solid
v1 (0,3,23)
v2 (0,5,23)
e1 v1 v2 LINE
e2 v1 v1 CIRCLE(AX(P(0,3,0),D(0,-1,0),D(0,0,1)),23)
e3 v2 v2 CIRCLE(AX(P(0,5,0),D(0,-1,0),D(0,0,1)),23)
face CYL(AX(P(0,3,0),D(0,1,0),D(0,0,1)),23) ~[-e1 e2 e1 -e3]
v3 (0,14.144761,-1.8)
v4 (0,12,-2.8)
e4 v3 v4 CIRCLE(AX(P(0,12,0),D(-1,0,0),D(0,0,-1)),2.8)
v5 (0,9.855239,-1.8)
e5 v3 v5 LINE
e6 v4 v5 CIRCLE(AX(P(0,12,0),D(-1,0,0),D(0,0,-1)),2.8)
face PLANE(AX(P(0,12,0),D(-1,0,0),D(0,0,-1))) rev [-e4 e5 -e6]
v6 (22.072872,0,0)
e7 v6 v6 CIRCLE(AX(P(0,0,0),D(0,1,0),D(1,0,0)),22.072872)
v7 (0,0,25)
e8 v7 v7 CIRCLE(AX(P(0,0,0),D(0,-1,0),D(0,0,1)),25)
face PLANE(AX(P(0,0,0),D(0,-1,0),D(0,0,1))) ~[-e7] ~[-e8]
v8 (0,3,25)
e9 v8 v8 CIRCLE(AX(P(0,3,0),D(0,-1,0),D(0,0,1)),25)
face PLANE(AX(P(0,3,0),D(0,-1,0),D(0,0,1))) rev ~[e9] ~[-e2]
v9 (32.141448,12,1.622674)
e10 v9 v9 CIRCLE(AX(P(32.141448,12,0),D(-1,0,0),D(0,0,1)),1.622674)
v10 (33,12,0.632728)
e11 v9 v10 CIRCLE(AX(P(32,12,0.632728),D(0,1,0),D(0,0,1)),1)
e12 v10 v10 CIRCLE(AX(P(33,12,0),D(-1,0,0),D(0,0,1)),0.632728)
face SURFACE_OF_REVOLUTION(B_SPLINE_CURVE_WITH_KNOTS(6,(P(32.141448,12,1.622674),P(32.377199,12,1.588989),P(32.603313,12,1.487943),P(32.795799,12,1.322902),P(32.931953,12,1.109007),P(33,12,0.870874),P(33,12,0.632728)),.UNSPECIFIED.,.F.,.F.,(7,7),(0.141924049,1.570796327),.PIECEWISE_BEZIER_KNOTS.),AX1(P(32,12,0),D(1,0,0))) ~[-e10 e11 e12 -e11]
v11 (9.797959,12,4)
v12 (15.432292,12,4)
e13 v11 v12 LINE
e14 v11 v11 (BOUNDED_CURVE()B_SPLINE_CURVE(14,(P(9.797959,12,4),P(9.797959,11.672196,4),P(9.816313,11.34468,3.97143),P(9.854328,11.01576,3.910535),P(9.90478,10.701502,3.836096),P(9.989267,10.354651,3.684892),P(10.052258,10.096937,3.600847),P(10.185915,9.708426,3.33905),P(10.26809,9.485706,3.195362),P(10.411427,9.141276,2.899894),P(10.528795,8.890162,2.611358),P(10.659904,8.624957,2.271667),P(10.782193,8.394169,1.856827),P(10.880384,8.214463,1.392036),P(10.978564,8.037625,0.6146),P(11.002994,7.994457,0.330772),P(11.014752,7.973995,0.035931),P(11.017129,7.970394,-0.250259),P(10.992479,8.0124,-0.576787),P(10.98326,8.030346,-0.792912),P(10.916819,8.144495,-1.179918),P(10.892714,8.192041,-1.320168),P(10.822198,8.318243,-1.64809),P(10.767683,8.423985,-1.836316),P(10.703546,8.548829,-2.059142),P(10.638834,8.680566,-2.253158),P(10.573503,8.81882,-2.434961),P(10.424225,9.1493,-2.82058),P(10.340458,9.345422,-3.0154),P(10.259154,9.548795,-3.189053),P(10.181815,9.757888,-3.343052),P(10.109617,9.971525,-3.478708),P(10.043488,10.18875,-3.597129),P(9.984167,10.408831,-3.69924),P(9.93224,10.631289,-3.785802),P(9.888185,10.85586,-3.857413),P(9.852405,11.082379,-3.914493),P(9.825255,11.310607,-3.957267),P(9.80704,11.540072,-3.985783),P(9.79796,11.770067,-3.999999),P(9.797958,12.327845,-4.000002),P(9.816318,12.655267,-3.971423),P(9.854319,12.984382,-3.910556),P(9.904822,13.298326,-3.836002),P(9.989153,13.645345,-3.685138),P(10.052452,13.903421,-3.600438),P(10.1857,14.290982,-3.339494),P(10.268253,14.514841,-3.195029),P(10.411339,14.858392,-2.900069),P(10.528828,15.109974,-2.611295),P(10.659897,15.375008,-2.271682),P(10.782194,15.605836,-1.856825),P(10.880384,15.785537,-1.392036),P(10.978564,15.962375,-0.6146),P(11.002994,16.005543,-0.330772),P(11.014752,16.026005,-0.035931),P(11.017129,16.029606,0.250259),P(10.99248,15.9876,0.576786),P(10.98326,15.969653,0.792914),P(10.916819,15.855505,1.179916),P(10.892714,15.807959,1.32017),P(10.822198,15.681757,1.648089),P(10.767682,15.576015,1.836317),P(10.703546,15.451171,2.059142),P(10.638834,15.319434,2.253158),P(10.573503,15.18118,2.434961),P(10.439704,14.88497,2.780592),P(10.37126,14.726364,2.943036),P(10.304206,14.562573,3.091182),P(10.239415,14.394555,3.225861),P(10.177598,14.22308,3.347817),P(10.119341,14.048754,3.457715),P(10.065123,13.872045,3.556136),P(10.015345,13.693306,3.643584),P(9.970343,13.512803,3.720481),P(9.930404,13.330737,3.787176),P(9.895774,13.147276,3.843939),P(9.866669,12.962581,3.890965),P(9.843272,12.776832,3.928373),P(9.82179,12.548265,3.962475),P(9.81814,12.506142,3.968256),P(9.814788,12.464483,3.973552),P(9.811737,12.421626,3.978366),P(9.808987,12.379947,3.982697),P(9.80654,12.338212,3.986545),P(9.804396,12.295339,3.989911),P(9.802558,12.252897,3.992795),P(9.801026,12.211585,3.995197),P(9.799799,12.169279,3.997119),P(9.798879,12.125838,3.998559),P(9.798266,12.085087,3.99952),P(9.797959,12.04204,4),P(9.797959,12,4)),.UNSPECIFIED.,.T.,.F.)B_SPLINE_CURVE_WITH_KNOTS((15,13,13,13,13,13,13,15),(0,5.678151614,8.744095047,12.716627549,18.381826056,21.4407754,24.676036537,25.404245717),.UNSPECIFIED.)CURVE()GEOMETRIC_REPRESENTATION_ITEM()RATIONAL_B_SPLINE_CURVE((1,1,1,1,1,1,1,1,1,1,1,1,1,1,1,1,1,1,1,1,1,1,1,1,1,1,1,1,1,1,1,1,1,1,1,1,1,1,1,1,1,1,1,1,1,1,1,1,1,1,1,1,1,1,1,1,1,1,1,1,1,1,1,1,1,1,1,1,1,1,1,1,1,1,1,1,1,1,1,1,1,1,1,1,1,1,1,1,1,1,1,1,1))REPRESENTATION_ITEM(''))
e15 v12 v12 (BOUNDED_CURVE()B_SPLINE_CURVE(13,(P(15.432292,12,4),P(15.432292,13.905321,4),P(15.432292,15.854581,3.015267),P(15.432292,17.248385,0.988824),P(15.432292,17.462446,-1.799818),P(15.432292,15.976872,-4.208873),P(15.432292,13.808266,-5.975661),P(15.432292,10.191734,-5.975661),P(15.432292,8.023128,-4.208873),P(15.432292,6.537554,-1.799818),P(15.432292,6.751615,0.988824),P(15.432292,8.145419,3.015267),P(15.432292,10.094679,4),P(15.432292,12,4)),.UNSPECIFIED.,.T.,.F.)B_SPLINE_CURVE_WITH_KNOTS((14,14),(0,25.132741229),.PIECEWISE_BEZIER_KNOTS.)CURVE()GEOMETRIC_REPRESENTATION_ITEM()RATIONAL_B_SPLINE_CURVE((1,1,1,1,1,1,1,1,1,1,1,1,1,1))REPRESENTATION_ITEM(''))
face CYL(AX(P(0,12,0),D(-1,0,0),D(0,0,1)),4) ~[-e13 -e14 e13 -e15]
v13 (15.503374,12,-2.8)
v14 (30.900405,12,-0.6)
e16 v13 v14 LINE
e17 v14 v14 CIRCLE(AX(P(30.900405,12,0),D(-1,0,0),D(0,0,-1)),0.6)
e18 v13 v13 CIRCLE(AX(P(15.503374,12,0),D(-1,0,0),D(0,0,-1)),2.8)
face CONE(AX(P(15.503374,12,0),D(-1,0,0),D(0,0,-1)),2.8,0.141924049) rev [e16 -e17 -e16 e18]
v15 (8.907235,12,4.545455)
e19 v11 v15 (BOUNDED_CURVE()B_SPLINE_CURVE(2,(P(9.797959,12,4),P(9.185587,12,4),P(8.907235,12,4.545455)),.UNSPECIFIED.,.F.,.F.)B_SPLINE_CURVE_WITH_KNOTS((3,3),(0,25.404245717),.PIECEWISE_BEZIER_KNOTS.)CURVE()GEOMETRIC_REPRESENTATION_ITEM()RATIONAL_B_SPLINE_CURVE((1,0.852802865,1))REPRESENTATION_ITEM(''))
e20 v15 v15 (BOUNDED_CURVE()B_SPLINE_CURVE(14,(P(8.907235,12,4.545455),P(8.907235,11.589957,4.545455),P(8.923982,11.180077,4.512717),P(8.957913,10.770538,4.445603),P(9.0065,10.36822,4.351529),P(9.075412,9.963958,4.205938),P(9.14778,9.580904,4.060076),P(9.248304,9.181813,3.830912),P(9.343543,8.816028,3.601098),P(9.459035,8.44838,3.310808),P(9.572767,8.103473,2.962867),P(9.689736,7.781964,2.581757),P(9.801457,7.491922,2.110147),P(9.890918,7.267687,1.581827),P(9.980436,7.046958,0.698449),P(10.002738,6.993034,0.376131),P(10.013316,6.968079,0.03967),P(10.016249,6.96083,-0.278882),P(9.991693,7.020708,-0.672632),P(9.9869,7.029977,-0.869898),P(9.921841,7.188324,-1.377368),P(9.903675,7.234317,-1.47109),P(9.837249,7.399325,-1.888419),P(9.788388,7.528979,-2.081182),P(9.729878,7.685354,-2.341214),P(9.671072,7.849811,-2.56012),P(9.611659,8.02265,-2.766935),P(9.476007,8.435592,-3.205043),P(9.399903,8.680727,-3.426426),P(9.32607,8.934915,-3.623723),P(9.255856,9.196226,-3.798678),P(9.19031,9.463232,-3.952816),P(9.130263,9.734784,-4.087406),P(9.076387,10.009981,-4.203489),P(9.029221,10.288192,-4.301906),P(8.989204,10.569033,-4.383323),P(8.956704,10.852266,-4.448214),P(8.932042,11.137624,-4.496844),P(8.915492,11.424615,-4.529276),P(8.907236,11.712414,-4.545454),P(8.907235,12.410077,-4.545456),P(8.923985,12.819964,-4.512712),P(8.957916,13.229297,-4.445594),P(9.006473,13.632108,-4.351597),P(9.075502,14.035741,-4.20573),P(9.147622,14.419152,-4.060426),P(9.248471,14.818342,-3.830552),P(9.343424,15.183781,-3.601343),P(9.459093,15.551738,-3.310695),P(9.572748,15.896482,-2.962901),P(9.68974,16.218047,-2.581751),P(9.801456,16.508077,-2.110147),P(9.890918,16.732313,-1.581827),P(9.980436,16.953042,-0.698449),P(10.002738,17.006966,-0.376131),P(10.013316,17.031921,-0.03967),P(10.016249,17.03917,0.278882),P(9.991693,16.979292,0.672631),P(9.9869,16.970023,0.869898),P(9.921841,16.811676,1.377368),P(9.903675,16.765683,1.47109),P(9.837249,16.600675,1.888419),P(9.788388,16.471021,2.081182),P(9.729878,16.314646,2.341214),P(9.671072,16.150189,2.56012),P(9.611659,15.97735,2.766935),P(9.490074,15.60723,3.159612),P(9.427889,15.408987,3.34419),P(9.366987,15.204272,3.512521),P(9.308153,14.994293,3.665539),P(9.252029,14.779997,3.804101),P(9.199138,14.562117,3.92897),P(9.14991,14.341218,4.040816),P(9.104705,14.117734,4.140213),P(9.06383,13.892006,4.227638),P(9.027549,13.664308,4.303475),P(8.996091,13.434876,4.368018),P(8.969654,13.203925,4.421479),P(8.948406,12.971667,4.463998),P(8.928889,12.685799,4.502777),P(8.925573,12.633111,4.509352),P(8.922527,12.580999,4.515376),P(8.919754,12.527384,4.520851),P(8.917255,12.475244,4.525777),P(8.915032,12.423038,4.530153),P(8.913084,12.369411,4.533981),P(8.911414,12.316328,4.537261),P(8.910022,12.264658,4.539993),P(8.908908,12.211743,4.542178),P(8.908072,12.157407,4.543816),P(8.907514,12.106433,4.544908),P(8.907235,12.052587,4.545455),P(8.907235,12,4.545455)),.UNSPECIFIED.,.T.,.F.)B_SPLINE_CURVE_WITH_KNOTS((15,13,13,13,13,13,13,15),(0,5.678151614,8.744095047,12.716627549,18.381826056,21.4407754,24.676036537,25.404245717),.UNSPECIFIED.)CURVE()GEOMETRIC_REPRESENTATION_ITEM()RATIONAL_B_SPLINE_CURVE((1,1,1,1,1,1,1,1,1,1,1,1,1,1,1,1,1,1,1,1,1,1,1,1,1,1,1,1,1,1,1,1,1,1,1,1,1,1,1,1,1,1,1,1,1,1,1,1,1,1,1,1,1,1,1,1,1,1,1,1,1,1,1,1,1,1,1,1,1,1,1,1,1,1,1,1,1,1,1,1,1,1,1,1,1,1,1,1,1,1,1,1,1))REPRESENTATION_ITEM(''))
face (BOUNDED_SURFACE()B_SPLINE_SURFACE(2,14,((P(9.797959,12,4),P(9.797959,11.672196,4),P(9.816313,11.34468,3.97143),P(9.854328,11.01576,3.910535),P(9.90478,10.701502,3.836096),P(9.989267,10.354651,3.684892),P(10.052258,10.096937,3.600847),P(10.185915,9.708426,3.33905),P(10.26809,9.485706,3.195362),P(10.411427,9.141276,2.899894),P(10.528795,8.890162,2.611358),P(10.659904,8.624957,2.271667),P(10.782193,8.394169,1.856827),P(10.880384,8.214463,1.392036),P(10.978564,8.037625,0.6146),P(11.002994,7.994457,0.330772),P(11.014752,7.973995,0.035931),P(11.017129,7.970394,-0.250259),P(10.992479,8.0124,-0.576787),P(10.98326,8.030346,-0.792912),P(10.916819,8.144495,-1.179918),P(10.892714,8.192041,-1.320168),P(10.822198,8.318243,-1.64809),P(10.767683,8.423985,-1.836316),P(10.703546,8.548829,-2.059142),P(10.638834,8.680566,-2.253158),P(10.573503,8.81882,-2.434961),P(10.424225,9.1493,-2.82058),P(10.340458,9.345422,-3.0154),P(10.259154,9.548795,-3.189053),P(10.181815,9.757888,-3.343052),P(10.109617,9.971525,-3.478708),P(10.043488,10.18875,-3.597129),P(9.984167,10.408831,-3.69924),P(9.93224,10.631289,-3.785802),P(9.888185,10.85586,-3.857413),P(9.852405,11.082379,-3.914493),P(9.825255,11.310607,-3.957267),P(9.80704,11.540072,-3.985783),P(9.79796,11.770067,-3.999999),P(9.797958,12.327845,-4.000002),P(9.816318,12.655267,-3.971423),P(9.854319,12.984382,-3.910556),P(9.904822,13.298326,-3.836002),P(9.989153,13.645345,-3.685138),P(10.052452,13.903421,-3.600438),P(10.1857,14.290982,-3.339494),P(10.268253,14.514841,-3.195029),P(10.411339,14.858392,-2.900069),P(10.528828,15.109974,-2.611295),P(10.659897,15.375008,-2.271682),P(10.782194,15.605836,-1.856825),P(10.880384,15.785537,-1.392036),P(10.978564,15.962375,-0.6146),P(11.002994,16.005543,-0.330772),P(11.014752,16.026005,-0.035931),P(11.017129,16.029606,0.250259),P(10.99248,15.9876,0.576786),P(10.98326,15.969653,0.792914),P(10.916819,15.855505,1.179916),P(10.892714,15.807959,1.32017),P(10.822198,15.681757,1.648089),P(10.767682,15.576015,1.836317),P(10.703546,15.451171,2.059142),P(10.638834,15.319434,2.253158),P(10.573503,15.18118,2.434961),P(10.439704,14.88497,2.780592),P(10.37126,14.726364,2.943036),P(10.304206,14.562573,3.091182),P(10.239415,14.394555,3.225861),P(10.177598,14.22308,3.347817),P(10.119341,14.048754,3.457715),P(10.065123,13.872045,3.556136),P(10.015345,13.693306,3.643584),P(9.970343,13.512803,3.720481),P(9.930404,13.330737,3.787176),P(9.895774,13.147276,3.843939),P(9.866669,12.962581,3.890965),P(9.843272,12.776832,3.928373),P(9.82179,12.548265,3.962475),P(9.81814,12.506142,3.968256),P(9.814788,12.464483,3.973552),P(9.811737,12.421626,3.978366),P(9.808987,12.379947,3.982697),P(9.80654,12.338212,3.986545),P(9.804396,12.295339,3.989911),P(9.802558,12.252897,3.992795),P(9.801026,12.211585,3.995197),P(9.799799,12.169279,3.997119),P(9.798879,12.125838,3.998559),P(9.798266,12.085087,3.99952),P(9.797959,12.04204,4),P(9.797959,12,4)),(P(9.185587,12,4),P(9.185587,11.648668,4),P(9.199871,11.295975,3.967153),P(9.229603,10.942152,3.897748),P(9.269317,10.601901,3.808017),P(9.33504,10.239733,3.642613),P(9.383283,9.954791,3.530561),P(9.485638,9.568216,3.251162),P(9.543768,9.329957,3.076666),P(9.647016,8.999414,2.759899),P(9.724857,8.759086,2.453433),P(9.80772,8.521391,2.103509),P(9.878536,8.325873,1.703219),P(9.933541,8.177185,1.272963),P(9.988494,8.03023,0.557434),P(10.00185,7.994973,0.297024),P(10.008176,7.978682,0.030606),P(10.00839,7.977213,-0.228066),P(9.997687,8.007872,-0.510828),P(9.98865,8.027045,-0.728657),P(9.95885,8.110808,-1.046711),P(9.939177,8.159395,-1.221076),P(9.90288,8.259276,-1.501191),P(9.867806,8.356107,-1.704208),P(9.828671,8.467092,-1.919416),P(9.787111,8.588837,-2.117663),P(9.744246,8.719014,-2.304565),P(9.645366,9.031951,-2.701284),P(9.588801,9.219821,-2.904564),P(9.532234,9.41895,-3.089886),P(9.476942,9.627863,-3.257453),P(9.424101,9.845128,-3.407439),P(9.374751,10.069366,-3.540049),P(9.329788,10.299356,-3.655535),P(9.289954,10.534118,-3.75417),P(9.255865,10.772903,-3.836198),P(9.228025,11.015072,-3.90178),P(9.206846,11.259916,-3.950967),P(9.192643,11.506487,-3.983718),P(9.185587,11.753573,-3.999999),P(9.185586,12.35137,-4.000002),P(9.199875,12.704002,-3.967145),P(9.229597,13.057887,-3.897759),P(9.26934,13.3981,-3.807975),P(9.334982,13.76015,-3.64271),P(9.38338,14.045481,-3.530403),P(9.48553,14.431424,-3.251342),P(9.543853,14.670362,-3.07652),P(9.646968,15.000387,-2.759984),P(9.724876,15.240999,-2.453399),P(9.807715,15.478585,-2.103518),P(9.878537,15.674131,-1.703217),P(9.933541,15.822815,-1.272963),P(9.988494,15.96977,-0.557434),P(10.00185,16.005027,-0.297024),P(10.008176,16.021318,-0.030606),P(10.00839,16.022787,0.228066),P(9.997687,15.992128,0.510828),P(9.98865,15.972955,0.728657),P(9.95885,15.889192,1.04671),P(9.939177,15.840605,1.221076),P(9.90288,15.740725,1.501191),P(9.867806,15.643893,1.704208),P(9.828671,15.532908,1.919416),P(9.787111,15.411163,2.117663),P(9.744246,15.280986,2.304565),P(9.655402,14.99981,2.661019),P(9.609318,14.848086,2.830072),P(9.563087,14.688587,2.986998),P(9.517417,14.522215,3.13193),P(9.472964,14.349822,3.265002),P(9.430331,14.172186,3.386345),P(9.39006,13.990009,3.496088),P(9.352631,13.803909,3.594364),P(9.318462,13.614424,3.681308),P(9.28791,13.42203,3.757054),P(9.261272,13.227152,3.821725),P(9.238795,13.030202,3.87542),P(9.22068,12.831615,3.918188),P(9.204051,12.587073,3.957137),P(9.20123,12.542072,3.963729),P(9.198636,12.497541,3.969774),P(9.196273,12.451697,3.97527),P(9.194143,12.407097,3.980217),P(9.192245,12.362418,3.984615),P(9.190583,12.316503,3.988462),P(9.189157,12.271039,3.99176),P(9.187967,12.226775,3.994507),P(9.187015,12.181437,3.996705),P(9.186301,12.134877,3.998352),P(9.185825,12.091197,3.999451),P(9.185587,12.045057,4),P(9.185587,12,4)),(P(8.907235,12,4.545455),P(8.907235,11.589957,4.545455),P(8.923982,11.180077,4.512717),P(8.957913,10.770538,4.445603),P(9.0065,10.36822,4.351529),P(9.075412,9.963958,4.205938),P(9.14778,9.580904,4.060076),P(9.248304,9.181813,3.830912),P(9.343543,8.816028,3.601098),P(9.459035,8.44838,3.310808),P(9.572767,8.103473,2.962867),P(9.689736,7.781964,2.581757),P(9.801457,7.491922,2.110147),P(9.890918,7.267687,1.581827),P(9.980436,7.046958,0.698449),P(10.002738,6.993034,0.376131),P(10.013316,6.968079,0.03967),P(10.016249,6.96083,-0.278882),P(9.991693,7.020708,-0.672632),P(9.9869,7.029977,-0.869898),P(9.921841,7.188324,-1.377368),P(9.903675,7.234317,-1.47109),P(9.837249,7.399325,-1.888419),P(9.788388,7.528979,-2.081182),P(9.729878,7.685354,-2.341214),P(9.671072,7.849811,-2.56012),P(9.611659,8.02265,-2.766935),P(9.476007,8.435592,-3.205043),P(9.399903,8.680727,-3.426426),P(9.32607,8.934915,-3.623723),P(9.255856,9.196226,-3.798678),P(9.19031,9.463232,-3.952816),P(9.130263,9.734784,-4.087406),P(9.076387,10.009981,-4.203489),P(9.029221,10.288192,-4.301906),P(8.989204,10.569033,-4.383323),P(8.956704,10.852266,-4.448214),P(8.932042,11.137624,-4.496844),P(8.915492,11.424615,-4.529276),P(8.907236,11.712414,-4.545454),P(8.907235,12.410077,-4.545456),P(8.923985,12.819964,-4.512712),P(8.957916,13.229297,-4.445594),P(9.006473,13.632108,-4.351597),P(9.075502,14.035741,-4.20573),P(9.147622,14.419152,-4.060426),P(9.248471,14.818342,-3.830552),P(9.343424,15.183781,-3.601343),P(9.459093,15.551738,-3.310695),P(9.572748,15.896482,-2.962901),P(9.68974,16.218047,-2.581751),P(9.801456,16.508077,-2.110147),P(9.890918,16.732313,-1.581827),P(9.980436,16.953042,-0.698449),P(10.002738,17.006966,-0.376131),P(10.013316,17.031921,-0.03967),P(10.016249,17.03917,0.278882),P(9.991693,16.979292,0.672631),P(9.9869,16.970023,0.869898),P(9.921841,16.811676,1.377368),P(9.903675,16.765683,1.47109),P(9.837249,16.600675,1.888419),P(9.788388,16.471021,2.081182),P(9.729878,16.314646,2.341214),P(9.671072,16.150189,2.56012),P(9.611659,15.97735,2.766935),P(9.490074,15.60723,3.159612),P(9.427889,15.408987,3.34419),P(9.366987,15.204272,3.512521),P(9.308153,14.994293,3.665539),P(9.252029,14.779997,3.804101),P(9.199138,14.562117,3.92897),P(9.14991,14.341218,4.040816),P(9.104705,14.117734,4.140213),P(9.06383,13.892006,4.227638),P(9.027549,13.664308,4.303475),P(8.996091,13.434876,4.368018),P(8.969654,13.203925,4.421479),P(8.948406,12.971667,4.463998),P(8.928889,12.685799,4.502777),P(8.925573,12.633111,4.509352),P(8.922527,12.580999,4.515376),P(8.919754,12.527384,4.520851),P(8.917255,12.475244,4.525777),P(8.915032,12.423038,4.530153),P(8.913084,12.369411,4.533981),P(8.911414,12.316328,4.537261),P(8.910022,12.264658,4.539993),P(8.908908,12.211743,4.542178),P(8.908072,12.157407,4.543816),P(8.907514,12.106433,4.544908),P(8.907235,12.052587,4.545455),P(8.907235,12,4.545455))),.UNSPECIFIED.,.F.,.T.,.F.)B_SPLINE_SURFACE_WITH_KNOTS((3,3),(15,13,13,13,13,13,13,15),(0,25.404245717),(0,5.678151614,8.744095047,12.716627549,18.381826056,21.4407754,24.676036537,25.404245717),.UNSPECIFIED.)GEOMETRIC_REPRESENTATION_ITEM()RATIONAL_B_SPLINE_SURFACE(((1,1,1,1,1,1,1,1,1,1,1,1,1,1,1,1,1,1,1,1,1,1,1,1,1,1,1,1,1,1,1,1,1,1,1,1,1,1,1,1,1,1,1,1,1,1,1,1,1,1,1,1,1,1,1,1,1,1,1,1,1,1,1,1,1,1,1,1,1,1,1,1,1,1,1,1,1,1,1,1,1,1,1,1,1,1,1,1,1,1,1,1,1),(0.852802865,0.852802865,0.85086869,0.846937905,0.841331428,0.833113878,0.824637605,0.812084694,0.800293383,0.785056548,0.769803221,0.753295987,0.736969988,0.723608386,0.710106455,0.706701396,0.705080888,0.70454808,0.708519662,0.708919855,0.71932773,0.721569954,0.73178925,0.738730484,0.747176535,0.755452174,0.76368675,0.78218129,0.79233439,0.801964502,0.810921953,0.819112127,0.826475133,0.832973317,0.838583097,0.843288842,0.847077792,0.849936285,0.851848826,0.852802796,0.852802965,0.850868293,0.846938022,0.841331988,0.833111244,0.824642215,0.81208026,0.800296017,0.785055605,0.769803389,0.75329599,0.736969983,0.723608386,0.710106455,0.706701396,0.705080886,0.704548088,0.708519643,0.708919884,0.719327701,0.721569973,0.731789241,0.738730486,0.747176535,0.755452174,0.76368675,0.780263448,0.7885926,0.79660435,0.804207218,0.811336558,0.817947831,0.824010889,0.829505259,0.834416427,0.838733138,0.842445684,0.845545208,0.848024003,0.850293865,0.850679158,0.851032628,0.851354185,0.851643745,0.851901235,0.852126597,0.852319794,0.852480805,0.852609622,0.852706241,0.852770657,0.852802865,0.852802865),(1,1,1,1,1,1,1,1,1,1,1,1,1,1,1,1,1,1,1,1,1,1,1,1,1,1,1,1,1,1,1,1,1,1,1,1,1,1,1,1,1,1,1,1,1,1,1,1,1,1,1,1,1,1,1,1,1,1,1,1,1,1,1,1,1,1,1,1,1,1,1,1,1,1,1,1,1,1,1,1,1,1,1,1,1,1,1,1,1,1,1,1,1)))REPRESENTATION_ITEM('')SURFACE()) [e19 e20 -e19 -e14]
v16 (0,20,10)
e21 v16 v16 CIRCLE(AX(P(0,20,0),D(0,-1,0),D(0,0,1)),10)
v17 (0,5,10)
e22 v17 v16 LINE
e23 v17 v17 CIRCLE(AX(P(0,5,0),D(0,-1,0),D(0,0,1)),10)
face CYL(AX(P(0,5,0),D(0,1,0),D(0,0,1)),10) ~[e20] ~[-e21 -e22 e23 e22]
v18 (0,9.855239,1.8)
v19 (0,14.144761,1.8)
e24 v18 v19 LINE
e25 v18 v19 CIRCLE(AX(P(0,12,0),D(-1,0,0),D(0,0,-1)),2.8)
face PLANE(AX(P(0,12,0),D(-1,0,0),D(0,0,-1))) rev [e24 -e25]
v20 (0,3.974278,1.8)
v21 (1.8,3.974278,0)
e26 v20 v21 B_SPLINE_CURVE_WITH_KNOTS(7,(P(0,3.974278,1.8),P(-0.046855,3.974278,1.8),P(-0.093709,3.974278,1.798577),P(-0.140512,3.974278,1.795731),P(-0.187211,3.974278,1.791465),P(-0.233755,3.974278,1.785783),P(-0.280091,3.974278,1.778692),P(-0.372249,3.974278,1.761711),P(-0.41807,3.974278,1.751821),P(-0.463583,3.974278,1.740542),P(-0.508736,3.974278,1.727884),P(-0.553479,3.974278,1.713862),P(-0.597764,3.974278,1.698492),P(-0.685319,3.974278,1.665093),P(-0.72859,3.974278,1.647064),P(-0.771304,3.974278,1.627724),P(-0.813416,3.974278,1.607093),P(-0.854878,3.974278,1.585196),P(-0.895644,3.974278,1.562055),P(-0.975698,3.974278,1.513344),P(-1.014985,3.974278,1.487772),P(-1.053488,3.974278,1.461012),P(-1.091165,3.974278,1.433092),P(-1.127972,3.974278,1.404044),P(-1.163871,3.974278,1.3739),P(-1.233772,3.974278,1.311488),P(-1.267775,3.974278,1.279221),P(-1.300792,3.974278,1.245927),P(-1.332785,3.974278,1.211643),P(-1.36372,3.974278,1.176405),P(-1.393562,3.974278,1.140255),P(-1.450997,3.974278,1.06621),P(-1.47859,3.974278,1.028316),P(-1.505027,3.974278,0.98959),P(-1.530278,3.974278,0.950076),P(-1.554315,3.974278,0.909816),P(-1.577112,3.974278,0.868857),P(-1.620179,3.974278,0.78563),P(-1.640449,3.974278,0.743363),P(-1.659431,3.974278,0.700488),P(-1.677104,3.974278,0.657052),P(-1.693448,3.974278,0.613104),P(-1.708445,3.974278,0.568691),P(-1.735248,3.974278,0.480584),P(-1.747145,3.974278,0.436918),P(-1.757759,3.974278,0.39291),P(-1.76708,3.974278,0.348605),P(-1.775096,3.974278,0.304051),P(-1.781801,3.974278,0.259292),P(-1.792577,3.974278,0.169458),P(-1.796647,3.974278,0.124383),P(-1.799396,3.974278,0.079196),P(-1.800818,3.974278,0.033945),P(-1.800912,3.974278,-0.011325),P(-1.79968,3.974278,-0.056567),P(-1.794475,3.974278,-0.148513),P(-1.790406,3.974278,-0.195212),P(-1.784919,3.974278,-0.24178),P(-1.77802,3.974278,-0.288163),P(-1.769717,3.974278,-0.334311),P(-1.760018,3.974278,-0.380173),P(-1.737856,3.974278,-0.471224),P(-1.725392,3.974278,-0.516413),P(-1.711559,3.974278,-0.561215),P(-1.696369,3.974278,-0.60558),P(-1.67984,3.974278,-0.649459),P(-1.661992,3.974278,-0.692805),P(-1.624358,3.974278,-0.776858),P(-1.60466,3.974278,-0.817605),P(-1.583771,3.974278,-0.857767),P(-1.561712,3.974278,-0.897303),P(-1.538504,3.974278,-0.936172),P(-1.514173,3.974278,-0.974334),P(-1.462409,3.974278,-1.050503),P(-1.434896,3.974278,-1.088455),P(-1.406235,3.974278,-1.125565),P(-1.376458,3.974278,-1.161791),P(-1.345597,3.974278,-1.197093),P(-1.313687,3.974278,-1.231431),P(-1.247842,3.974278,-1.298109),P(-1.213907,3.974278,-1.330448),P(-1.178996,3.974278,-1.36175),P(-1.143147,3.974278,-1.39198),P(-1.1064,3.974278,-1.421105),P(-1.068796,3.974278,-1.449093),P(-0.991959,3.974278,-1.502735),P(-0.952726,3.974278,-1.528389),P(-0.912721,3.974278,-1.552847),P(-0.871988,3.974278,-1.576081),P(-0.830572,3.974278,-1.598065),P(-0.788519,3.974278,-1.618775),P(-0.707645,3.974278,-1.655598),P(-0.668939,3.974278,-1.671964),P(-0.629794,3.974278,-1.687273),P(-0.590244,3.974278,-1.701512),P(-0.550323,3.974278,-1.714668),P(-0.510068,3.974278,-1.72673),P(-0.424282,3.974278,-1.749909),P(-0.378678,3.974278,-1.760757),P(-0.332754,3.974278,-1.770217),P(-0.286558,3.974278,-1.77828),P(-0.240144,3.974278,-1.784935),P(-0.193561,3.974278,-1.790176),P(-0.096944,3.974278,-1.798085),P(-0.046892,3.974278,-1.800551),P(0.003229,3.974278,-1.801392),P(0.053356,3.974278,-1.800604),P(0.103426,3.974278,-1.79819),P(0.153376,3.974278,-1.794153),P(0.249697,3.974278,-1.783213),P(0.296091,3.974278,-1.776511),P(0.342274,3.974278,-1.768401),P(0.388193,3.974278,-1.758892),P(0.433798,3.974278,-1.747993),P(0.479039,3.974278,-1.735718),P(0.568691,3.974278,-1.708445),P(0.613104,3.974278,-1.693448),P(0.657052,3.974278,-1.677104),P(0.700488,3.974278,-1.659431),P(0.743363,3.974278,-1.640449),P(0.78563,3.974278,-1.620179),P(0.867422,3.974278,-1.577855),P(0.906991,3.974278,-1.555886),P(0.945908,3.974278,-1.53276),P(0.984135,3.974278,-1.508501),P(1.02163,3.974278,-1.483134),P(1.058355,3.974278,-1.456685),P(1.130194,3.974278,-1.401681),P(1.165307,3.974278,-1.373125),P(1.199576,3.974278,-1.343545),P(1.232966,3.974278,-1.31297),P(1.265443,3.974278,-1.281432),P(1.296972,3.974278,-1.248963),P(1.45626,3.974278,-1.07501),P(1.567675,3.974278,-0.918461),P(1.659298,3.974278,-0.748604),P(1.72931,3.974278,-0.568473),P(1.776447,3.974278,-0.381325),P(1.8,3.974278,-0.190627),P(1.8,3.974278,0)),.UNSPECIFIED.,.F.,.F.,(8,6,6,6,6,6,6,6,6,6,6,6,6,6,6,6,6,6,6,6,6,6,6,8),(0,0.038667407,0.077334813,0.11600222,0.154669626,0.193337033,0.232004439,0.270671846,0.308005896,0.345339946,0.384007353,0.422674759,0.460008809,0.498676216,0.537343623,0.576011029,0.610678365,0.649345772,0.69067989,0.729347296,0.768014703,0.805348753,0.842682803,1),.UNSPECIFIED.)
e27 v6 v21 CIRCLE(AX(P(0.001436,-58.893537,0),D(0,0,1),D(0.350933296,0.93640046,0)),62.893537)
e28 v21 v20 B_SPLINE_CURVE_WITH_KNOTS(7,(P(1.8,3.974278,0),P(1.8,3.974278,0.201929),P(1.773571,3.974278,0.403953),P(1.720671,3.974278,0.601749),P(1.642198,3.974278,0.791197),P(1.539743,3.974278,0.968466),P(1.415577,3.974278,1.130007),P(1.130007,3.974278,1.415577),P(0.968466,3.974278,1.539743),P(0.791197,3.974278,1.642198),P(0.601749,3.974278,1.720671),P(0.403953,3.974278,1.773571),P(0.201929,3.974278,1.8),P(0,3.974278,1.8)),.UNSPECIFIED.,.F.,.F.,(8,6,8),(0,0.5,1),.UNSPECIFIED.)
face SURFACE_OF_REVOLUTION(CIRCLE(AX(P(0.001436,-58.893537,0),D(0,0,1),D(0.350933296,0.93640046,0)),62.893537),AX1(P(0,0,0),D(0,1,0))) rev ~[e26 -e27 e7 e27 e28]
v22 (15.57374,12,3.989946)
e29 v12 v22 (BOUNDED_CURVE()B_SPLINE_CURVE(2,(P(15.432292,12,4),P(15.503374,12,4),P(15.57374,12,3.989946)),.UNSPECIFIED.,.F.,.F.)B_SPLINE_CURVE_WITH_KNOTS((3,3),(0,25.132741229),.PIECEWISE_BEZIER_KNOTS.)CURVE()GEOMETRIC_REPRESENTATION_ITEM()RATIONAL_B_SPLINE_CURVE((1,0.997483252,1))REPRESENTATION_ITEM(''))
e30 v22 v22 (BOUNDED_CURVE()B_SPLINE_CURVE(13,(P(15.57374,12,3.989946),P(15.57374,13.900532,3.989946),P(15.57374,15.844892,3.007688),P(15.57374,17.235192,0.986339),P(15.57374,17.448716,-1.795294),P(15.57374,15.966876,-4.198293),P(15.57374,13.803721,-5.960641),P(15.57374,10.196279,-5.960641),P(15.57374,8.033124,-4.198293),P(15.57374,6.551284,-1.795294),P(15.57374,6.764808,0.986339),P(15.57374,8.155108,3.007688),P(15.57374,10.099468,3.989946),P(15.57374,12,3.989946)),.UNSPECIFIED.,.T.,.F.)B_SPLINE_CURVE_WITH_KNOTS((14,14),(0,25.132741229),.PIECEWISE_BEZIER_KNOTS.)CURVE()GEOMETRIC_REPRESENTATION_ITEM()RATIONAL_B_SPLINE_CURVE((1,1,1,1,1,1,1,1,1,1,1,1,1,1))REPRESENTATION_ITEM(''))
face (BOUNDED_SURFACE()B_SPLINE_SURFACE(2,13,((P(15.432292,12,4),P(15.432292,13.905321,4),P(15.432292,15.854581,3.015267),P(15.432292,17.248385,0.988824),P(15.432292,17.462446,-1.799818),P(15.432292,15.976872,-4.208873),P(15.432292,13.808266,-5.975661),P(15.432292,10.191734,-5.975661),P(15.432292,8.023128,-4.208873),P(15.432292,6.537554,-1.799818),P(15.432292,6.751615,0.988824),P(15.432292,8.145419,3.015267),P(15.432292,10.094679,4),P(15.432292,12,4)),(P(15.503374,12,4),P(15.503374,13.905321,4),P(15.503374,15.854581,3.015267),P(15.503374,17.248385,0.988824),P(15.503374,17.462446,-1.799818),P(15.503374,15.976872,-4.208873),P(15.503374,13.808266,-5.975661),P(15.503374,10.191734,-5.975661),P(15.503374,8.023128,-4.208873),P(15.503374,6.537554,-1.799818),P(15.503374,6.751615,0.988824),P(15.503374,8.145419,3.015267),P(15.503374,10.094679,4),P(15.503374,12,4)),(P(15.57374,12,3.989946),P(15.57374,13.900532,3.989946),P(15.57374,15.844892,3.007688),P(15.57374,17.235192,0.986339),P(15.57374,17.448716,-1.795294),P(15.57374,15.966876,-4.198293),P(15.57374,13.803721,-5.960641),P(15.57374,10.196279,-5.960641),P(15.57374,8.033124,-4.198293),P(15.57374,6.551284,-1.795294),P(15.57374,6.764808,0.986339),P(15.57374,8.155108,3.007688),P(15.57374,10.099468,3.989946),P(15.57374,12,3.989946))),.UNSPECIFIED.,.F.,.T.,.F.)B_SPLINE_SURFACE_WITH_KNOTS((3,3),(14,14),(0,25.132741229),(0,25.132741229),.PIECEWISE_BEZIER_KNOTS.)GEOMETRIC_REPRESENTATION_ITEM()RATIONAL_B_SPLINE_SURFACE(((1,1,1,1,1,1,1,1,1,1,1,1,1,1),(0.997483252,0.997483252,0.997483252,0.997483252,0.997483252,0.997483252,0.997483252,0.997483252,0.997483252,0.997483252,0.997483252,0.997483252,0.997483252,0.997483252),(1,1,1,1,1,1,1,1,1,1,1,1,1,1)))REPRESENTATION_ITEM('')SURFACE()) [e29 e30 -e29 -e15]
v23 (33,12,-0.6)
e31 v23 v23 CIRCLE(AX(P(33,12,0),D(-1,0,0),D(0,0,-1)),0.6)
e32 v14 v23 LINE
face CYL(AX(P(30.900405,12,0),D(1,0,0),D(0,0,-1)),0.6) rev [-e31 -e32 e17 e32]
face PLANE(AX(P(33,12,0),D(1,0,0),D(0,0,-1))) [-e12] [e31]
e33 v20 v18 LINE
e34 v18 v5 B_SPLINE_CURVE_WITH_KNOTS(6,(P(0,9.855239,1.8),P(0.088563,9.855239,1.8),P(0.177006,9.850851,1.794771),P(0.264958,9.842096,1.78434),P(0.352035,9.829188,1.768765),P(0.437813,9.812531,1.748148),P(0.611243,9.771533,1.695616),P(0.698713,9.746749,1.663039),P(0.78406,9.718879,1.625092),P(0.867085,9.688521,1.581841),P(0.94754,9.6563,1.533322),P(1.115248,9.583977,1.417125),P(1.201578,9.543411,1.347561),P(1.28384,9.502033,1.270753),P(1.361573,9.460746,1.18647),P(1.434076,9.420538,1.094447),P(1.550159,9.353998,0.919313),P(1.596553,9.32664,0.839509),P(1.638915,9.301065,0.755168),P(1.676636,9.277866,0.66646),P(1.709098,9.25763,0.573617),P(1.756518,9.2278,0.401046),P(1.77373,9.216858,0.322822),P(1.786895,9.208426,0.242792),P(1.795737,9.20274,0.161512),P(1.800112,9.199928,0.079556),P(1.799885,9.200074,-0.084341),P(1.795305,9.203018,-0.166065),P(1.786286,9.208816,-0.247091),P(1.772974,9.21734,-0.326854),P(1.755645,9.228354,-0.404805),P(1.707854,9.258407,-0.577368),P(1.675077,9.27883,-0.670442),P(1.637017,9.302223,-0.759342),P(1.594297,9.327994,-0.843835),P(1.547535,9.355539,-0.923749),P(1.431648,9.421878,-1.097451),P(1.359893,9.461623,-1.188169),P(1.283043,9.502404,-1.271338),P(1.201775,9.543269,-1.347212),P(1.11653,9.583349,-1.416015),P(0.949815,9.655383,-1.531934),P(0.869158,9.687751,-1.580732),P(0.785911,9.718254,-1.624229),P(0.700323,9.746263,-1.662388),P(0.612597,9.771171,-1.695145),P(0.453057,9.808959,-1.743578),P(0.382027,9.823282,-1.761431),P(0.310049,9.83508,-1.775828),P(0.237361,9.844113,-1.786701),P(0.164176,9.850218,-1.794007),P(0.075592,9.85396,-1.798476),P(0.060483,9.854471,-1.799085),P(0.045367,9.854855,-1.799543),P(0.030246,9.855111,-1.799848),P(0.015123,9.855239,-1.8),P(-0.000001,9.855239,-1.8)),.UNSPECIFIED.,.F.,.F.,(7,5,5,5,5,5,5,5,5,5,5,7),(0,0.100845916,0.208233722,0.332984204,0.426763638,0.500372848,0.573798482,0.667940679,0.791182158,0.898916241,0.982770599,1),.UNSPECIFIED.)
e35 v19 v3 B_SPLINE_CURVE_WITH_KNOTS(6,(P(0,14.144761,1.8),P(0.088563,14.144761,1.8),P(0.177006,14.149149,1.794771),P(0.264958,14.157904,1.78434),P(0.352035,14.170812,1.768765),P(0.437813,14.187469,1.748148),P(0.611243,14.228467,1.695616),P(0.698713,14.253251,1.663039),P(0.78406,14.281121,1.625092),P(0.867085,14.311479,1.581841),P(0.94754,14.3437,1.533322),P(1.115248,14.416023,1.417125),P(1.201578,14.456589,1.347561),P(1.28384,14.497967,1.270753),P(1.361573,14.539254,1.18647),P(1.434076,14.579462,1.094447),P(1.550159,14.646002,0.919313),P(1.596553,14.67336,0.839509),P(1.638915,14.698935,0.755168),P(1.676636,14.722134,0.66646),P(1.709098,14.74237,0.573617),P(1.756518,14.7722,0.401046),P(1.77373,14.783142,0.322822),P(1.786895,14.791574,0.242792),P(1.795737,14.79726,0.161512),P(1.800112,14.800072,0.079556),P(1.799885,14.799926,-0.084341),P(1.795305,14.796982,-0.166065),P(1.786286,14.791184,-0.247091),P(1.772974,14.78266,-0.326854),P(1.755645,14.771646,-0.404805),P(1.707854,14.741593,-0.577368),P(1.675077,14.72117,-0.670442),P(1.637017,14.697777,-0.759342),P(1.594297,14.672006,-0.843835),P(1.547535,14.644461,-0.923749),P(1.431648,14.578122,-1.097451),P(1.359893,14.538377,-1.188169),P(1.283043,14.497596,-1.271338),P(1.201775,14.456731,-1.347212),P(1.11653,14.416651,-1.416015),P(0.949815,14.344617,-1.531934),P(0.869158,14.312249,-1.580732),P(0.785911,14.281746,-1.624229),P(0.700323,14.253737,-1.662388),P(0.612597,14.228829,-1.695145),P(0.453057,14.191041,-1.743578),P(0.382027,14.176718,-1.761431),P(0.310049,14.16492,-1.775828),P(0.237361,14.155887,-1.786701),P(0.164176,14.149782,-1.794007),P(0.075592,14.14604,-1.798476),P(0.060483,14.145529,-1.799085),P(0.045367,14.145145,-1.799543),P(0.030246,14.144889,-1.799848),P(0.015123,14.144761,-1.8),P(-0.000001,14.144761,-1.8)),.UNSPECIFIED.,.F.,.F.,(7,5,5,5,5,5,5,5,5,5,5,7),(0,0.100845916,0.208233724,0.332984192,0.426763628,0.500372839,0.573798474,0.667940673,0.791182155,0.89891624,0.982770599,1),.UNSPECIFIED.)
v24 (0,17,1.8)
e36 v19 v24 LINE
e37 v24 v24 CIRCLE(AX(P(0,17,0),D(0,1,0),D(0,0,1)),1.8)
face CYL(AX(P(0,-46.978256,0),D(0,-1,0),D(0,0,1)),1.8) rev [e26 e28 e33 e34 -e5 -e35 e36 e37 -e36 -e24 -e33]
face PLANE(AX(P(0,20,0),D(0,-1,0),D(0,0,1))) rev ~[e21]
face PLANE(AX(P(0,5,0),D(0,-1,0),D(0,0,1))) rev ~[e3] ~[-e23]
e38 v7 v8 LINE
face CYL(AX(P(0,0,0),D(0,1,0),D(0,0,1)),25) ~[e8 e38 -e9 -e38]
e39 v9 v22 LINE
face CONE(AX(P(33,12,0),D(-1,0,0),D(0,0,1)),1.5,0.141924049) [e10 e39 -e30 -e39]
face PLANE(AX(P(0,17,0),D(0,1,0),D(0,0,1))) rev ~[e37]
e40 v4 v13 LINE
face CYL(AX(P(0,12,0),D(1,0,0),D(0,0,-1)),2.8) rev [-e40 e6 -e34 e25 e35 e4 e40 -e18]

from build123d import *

# Parameters (mm, degrees)
SKETCH3_R               = 4
BOSS_EXTRUDE1_DEPTH     = 25
BOSS_EXTRUDE2_START     = 25
SKETCH3_5_R             = 3
BOSS_EXTRUDE2_DEPTH     = 8
CUT_EXTRUDE1_DEPTH      = 17
CUT_EXTRUDE1_DEPTH_BACK = 46.978255774
SKETCH15_R              = 1.8
FILLET3_R               = 1


with BuildPart() as part:
    # Sketch1 → Revolve1 (revolve)
    with BuildSketch(Plane.XY, mode=Mode.PRIVATE) as revolve1_sk:
        Polygon((0, 20), (0, 0), (25, 0), (25, 3), (23, 3), (23, 5), (10, 5), (10, 20), align=None)
    revolve(revolve1_sk.sketch.rotate(Axis((0, 20, 0), (0, -1, 0)), 90), axis=Axis((0, 20, 0), (0, -1, 0)))

    # Sketch3 → Boss-Extrude1 (add)
    with BuildSketch(Plane(origin=(0, 0, 0), x_dir=(0, 0, -1), z_dir=(1, 0, 0))):
        with Locations(Location((0, 12, 0), (0, 0, 180))):
            Circle(SKETCH3_R)
    extrude(amount=BOSS_EXTRUDE1_DEPTH)

    # Sketch3<5> → Boss-Extrude2 (add)
    with BuildSketch(Plane(origin=(0, 0, 0), x_dir=(0, 0, -1), z_dir=(1, 0, 0)).offset(BOSS_EXTRUDE2_START)):
        with Locations((0, 12)):
            Circle(SKETCH3_5_R)
    extrude(amount=BOSS_EXTRUDE2_DEPTH)

    # Sketch11 → Cut-Revolve10 (revolve, cut)
    with BuildSketch(Plane.XY):
        with BuildLine():
            Line((0, 4), (0, 0))
            Line((0, 0), (22.072872435, 0))
            ThreePointArc((22.072872435, 0), (11.216213299, 2.992049146), (0, 4))
        make_face()
    revolve(axis=Axis((0, 0, 0), (0, 1, 0)), mode=Mode.SUBTRACT)

    # Sketch15 → Cut-Extrude1 (cut, two sides: drawn at the far end of the back side and taken through both)
    with BuildSketch(Plane(origin=(0, 0, 0), x_dir=(1, 0, 0), z_dir=(0, 1, 0)).offset(-CUT_EXTRUDE1_DEPTH_BACK)):
        with Locations(Location((0, 0, 0), (0, 0, 270))):
            Circle(SKETCH15_R)
    extrude(amount=CUT_EXTRUDE1_DEPTH + CUT_EXTRUDE1_DEPTH_BACK, mode=Mode.SUBTRACT)

    # Sketch16 → Cut-Revolve12 (revolve, cut)
    with BuildSketch(Plane.XY, mode=Mode.PRIVATE) as cut_revolve12_sk:
        Polygon((33, 15), (33, 13.5), (15.503373698, 16), (33, 16), align=None)
    revolve(cut_revolve12_sk.sketch.rotate(Axis((33, 12, 0), (-1, 0, 0)), 270), axis=Axis((33, 12, 0), (-1, 0, 0)), mode=Mode.SUBTRACT)

    # Sketch17 → Cut-Revolve13 (revolve, cut)
    with BuildSketch(Plane.XY, mode=Mode.PRIVATE) as cut_revolve13_sk:
        Polygon((33, 12.6), (33, 12), (0, 12), (0, 14.8), (15.503373698, 14.8), (30.900404844, 12.6), align=None)
    revolve(cut_revolve13_sk.sketch.rotate(Axis((33, 12, 0), (-1, 0, 0)), 90), axis=Axis((33, 12, 0), (-1, 0, 0)), mode=Mode.SUBTRACT)

    # Fillet3
    fillet3_edges = [part.edges().sort_by_distance(p)[0] for p in [
        (9.16515139, 12, -4),
        (15.503373698, 12, -4),
        (33, 12, -1.5),
    ]]
    fillet(fillet3_edges, radius=FILLET3_R)


solid = part.part
